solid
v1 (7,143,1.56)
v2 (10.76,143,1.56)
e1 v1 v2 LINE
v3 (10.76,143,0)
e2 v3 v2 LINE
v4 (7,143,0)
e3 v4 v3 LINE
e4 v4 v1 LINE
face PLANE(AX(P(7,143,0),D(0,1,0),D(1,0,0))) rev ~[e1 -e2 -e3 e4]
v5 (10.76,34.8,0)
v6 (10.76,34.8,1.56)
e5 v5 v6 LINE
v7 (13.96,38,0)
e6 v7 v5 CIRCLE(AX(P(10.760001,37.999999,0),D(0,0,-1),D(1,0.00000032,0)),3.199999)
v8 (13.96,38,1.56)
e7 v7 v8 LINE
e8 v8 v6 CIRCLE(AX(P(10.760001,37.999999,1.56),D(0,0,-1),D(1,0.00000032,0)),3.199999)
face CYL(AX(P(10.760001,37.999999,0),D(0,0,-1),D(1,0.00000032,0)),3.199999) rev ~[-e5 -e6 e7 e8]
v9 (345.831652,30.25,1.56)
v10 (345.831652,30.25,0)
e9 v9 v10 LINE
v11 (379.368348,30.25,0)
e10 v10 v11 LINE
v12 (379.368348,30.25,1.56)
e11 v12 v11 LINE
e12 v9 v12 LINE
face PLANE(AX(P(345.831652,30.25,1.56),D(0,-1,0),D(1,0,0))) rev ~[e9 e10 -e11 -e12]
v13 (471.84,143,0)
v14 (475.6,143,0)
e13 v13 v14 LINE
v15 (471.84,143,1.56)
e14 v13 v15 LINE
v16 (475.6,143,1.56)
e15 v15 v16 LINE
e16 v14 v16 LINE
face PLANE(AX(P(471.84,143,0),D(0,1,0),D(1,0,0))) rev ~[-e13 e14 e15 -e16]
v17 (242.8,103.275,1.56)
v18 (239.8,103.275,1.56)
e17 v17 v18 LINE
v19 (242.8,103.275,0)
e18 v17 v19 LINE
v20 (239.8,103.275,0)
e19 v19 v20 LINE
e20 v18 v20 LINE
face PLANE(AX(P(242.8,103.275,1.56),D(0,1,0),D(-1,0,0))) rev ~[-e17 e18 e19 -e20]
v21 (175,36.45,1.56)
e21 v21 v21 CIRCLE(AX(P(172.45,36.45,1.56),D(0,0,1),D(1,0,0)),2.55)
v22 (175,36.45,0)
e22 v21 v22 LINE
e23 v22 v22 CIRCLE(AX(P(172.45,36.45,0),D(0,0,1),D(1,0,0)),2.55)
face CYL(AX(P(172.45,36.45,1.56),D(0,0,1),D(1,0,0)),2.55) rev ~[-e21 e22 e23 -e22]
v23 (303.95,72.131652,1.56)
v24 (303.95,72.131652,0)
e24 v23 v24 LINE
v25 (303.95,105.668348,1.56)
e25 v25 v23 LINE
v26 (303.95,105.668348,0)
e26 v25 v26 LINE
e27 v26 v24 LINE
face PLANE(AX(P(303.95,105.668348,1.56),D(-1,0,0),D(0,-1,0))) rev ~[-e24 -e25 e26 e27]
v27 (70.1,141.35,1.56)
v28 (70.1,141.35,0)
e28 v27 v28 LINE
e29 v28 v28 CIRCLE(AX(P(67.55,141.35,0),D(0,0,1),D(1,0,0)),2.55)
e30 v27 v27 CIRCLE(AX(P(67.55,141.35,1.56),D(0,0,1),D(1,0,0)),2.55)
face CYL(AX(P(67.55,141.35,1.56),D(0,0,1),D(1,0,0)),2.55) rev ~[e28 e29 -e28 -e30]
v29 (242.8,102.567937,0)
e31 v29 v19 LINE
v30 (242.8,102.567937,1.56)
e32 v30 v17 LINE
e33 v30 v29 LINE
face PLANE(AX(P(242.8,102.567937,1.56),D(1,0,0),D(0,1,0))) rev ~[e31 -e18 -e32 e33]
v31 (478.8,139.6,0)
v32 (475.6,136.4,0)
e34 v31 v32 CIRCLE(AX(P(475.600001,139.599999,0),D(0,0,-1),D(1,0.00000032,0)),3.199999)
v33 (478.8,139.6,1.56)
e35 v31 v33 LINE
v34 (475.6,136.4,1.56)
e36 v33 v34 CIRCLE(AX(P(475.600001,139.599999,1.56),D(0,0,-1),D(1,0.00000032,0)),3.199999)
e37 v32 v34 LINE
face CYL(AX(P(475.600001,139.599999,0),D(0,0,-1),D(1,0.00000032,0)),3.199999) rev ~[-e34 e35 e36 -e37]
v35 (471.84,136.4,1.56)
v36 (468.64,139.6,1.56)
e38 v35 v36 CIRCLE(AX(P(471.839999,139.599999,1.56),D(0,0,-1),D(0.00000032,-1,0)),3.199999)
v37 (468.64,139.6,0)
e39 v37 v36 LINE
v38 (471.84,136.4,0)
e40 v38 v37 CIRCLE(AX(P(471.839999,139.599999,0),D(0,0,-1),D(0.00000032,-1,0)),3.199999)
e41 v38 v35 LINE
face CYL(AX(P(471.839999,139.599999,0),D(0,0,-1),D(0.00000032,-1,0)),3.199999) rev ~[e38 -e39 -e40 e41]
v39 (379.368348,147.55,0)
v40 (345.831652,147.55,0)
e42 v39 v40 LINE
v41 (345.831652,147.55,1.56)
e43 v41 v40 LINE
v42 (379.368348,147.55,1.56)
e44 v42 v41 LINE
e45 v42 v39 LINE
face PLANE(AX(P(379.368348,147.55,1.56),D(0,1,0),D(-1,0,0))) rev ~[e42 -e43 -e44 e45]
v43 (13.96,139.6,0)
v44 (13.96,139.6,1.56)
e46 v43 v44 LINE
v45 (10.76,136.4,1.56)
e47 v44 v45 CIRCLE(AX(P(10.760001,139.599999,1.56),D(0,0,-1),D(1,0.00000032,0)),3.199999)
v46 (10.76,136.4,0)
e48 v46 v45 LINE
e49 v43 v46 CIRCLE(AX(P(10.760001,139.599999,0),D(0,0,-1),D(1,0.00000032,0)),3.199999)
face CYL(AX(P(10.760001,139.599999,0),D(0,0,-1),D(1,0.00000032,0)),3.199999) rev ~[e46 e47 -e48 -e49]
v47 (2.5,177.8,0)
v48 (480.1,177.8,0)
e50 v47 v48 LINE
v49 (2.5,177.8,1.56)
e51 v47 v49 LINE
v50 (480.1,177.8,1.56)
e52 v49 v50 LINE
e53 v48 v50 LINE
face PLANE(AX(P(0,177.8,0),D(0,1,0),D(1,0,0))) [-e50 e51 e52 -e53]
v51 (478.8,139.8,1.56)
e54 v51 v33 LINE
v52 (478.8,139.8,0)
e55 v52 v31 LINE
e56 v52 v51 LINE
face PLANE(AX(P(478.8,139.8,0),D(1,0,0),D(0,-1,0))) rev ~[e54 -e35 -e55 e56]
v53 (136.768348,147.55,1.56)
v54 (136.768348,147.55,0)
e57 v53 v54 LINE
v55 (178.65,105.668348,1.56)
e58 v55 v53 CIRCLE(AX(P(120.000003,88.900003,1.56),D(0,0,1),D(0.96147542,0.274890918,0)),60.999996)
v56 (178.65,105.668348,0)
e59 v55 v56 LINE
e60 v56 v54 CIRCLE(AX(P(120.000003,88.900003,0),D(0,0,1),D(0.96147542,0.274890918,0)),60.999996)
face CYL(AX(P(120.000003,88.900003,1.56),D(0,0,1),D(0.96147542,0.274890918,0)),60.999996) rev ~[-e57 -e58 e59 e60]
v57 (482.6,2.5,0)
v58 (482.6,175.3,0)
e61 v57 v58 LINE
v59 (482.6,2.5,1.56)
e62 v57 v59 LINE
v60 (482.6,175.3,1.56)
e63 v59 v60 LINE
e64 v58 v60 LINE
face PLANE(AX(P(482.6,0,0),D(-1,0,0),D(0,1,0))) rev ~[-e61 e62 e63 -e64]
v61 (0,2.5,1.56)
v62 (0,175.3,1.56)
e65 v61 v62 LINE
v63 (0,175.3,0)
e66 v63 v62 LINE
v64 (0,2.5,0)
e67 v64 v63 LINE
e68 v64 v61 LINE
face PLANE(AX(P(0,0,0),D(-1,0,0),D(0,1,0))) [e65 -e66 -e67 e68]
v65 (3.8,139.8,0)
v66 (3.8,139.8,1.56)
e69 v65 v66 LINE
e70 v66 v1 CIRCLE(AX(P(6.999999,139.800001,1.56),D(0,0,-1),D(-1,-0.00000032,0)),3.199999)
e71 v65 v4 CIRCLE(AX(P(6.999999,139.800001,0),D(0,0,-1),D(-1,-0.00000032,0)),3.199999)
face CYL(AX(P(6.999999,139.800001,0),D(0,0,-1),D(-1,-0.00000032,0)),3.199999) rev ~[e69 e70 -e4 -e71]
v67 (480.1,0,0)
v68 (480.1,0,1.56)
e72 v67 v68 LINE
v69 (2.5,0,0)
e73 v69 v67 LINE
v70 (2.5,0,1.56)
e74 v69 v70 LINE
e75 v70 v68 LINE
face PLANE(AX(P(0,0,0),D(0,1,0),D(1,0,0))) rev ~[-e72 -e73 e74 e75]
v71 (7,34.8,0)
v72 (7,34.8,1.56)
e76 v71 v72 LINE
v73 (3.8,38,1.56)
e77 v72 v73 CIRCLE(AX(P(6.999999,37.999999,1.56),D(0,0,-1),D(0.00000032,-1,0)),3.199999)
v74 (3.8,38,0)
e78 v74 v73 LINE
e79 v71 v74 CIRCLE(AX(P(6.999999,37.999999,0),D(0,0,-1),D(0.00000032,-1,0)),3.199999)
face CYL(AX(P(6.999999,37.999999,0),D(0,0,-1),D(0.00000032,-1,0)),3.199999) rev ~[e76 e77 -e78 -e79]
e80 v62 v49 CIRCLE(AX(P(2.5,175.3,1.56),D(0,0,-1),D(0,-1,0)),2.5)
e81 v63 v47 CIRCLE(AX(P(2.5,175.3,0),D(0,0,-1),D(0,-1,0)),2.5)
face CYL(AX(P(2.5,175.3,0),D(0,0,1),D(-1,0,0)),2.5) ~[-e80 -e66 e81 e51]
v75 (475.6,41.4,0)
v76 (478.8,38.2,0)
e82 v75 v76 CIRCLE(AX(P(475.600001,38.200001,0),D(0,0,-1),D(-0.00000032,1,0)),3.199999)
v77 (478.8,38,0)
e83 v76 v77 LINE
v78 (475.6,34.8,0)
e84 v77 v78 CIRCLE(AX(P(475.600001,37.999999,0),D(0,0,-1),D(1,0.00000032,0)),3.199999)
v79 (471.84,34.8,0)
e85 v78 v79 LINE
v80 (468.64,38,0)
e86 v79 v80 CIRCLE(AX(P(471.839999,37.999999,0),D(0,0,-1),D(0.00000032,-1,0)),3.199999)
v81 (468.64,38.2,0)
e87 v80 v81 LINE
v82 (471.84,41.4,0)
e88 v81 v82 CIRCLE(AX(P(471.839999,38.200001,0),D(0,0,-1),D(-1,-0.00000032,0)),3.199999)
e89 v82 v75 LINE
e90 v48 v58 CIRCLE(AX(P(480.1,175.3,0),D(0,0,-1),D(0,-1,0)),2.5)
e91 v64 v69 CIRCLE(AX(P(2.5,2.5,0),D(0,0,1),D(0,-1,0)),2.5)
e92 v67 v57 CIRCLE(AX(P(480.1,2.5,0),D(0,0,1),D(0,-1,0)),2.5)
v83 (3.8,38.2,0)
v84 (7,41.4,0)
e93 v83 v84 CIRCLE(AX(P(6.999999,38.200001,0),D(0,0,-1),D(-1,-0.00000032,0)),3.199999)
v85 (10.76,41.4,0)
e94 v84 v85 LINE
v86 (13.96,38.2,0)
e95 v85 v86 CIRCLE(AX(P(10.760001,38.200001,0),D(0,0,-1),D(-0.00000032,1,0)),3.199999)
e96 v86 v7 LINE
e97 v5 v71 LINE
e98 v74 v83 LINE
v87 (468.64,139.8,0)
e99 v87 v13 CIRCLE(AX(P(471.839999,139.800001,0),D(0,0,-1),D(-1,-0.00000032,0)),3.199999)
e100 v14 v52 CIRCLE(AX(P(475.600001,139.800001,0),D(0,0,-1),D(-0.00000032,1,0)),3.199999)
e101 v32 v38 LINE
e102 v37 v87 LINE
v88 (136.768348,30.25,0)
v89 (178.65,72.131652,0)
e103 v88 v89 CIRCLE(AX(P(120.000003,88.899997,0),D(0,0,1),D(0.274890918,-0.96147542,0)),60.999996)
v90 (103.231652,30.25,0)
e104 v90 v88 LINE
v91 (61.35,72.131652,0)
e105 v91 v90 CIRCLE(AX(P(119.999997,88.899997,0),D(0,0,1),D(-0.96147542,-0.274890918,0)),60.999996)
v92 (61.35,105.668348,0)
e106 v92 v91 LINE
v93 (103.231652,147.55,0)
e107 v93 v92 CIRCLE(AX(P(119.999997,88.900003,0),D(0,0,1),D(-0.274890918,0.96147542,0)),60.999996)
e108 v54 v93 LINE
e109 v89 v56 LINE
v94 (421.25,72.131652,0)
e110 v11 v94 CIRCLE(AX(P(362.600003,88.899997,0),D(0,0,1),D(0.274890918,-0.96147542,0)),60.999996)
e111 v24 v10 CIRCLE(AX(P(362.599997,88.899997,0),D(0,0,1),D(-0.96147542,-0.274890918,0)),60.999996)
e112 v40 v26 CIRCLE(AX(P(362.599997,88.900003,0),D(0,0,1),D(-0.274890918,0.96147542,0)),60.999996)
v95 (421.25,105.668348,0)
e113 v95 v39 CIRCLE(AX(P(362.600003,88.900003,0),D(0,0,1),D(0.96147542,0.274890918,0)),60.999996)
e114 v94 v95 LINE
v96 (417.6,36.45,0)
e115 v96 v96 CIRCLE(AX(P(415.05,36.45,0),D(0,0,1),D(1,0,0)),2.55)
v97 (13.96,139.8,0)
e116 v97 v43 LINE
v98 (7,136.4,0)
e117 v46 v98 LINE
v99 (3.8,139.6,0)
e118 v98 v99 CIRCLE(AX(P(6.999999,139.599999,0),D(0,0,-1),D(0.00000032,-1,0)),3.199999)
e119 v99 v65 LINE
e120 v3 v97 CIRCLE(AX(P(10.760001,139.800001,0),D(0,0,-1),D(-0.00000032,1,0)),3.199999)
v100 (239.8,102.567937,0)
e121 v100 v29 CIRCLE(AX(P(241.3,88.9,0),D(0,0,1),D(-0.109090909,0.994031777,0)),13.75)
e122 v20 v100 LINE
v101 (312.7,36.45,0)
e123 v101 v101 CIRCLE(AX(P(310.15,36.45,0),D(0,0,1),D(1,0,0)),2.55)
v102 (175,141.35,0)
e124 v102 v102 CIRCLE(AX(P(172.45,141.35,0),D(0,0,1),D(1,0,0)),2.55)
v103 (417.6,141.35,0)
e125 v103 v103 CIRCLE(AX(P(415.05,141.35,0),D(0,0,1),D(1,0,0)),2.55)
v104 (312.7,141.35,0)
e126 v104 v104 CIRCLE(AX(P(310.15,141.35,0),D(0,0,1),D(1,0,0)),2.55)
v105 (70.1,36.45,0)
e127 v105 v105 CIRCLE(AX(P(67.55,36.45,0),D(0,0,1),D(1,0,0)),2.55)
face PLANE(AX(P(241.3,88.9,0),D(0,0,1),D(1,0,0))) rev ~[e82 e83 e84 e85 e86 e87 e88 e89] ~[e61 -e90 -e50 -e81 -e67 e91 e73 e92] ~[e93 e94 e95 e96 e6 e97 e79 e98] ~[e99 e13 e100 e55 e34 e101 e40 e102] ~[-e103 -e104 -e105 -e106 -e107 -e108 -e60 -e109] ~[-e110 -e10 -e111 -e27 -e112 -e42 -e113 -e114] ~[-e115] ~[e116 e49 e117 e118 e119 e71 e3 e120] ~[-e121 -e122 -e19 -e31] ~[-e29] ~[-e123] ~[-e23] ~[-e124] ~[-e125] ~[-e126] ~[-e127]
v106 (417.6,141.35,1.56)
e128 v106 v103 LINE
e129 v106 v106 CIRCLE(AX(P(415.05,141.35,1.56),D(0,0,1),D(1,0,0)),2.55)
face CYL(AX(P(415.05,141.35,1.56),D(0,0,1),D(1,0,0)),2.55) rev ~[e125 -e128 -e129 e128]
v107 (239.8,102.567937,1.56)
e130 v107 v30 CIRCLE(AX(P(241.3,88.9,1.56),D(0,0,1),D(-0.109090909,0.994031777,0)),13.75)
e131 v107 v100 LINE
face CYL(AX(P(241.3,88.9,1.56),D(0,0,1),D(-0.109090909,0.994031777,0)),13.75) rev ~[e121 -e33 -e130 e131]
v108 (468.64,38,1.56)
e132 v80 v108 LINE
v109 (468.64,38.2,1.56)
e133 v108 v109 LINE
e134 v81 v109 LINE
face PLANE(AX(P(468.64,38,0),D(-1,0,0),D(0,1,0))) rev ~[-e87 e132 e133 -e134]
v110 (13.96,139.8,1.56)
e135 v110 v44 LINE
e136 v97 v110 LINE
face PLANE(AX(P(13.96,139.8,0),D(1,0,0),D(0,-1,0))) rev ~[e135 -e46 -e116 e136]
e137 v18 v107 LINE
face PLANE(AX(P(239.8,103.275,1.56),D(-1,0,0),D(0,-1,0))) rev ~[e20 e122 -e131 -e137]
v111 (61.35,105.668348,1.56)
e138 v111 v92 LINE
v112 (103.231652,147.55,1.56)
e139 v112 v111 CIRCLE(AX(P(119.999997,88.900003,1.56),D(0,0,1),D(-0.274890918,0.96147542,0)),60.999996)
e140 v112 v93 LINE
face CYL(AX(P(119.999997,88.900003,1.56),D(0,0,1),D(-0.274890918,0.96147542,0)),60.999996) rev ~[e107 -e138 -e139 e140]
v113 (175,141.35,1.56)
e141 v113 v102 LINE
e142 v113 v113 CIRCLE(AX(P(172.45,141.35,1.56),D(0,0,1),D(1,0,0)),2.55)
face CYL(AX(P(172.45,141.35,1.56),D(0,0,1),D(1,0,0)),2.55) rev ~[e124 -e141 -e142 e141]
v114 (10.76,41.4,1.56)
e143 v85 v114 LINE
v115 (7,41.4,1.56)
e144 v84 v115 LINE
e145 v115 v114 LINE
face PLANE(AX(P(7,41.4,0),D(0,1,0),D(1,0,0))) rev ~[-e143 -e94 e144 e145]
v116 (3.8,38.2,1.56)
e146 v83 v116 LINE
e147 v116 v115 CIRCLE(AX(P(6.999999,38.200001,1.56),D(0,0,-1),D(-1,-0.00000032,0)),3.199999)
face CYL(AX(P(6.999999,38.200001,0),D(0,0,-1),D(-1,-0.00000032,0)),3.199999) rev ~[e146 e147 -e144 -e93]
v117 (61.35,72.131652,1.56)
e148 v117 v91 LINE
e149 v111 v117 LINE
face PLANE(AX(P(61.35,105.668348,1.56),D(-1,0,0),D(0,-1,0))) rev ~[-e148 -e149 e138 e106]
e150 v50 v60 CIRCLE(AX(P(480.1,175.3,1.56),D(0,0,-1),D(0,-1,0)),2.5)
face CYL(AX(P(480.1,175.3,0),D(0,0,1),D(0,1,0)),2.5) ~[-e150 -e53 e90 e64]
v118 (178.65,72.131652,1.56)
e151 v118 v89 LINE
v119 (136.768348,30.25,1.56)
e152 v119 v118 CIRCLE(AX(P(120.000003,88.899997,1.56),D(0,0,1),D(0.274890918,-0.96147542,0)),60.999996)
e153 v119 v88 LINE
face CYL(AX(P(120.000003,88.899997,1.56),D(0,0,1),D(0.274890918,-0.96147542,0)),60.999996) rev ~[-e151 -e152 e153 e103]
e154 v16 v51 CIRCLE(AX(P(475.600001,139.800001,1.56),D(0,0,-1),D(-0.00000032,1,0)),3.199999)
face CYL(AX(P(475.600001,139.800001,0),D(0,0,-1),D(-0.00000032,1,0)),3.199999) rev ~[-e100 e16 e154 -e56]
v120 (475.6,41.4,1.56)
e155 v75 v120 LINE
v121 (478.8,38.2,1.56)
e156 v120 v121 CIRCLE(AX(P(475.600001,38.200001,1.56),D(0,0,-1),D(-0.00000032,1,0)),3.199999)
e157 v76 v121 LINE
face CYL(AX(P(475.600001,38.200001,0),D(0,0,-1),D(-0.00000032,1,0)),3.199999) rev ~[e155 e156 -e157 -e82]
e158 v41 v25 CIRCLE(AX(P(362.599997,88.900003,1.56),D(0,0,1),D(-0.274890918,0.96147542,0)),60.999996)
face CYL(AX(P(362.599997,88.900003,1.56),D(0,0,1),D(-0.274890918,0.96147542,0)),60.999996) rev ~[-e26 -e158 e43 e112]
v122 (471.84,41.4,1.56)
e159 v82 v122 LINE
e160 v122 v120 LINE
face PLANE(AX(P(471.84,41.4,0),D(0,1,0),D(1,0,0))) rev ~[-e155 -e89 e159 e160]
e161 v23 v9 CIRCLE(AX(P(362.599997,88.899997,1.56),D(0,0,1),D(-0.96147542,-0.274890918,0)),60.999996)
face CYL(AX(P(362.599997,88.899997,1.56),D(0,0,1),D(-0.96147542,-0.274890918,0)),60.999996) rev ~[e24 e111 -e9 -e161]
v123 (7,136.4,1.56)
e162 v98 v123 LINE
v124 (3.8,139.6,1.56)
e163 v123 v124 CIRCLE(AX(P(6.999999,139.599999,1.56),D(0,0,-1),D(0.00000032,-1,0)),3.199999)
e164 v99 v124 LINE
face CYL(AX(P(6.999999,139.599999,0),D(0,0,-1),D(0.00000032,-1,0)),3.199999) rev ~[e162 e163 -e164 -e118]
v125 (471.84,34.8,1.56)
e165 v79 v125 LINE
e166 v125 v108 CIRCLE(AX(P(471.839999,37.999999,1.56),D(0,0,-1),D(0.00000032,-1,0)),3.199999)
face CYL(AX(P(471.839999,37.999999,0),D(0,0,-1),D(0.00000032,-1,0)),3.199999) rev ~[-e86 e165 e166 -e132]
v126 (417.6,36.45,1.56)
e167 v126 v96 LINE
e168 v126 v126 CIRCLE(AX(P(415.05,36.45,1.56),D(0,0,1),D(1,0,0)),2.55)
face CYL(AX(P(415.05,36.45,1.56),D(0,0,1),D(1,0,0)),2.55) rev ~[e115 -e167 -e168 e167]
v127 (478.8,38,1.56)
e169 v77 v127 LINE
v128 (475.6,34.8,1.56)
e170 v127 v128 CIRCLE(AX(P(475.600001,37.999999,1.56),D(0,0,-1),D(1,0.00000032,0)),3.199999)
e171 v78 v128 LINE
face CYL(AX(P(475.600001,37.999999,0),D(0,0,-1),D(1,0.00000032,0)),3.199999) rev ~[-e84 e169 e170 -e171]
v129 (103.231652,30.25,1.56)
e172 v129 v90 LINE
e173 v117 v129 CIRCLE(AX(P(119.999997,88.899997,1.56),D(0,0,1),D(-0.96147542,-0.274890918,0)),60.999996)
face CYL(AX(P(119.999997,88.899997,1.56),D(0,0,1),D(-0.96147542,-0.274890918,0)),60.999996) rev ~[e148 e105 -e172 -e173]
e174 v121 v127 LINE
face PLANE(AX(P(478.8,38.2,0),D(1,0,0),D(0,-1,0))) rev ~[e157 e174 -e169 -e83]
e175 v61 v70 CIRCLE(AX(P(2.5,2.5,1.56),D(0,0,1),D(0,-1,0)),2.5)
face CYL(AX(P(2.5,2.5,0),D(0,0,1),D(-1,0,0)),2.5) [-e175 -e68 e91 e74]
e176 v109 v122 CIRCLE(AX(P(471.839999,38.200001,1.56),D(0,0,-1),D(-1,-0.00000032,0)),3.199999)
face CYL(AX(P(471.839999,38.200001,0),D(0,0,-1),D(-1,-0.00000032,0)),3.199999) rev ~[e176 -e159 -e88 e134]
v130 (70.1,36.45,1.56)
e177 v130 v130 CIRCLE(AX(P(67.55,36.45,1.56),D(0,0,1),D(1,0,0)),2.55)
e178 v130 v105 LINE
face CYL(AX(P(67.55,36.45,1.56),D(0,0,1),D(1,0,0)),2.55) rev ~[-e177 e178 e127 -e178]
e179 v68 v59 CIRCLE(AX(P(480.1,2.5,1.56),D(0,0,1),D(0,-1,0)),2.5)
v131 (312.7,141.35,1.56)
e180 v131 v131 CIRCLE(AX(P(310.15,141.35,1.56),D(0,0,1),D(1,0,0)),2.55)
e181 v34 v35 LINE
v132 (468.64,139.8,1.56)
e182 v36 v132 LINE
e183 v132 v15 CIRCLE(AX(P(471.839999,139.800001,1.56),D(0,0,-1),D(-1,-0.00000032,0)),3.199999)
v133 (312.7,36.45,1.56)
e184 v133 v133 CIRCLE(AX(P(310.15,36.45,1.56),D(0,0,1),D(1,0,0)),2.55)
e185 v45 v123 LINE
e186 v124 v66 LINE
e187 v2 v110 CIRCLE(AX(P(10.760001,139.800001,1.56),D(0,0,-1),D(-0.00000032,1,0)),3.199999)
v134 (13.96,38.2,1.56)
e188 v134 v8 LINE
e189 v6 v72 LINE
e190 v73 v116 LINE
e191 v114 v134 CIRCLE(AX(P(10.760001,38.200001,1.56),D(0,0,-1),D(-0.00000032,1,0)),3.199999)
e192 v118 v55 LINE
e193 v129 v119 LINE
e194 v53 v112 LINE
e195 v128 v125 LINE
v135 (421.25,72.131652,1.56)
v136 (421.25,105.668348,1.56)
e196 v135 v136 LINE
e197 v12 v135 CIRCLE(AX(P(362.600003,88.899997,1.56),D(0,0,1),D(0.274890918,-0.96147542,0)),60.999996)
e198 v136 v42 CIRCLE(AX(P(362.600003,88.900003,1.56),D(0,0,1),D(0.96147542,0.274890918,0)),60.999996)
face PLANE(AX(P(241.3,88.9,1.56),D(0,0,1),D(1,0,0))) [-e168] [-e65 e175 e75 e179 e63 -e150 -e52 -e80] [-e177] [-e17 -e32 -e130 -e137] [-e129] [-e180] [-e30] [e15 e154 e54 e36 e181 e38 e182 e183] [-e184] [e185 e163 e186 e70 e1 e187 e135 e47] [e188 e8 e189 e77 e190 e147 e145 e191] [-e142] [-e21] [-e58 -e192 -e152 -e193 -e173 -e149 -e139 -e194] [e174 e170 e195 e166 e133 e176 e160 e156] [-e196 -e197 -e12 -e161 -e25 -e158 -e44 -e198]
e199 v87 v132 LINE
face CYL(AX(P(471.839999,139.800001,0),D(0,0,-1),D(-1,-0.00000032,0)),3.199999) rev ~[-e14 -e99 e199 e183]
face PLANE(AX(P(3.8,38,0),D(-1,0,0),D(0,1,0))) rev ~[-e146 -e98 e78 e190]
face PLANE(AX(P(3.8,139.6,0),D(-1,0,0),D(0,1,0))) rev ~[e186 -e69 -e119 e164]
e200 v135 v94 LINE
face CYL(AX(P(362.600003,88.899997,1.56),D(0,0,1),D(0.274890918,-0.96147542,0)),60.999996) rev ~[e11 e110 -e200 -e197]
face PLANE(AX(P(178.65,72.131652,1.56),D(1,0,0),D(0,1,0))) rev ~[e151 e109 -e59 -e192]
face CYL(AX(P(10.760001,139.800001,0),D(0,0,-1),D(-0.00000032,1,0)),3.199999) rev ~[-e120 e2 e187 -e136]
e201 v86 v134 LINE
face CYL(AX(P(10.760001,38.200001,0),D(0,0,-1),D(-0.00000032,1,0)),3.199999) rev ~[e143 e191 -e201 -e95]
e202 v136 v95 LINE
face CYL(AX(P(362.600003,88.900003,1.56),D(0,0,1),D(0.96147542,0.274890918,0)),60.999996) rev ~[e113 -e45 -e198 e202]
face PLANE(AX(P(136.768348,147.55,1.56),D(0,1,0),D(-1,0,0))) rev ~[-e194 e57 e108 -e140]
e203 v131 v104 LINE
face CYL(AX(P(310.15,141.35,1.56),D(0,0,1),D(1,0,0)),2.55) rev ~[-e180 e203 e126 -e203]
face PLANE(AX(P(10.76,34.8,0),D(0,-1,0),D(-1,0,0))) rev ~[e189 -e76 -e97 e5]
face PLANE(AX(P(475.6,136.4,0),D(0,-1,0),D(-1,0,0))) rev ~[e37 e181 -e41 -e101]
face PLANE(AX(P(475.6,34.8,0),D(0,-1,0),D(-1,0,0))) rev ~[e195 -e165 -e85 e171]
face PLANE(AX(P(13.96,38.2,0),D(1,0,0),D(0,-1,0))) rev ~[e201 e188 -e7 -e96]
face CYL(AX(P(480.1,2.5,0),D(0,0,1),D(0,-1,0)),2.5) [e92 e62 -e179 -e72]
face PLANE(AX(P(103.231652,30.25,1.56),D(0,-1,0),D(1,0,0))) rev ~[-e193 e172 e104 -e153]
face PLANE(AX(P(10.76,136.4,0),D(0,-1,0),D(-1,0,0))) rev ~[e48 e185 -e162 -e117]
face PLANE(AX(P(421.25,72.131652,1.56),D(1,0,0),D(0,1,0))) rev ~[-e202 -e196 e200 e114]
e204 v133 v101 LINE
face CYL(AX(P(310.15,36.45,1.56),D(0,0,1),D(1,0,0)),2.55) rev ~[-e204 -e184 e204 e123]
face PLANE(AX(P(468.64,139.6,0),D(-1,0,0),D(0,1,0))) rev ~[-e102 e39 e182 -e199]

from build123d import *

# Parameters (mm, degrees)
F0_W     = 482.6
F0_H     = 177.8
F1_DEPTH = 1.56
F2_R     = 2.5
F3_R     = 2.55
F4_DEPTH = 25


with BuildPart() as f1:
    # F0 (on Top) → F1 (new body)
    with BuildSketch(Plane.XY):
        with Locations((241.3, 88.9)):
            Rectangle(F0_W, F0_H)
        with BuildLine():
            Line((7, 41.4), (10.76, 41.4))
            ThreePointArc((10.76, 41.4), (13.022742, 40.462742), (13.96, 38.2))
            Line((13.96, 38.2), (13.96, 38))
            ThreePointArc((13.96, 38), (13.022742, 35.737258), (10.76, 34.8))
            Line((10.76, 34.8), (7, 34.8))
            ThreePointArc((7, 34.8), (4.737258, 35.737258), (3.8, 38))
            Line((3.8, 38), (3.8, 38.2))
            ThreePointArc((3.8, 38.2), (4.737258, 40.462742), (7, 41.4))
        make_face(mode=Mode.SUBTRACT)
        with BuildLine():
            Line((468.64, 38), (468.64, 38.2))
            ThreePointArc((468.64, 38.2), (469.577258, 40.462742), (471.84, 41.4))
            Line((471.84, 41.4), (475.6, 41.4))
            ThreePointArc((475.6, 41.4), (477.862742, 40.462742), (478.8, 38.2))
            Line((478.8, 38.2), (478.8, 38))
            ThreePointArc((478.8, 38), (477.862742, 35.737258), (475.6, 34.8))
            Line((475.6, 34.8), (471.84, 34.8))
            ThreePointArc((471.84, 34.8), (469.577258, 35.737258), (468.64, 38))
        make_face(mode=Mode.SUBTRACT)
        with BuildLine():
            Line((10.76, 136.4), (7, 136.4))
            ThreePointArc((7, 136.4), (4.737258, 137.337258), (3.8, 139.6))
            Line((3.8, 139.6), (3.8, 139.8))
            ThreePointArc((3.8, 139.8), (4.737258, 142.062742), (7, 143))
            Line((7, 143), (10.76, 143))
            ThreePointArc((10.76, 143), (13.022742, 142.062742), (13.96, 139.8))
            Line((13.96, 139.8), (13.96, 139.6))
            ThreePointArc((13.96, 139.6), (13.022742, 137.337258), (10.76, 136.4))
        make_face(mode=Mode.SUBTRACT)
        with BuildLine():
            Line((478.8, 139.8), (478.8, 139.6))
            ThreePointArc((478.8, 139.6), (477.862742, 137.337258), (475.6, 136.4))
            Line((475.6, 136.4), (471.84, 136.4))
            ThreePointArc((471.84, 136.4), (469.577258, 137.337258), (468.64, 139.6))
            Line((468.64, 139.6), (468.64, 139.8))
            ThreePointArc((468.64, 139.8), (469.577258, 142.062742), (471.84, 143))
            Line((471.84, 143), (475.6, 143))
            ThreePointArc((475.6, 143), (477.862742, 142.062742), (478.8, 139.8))
        make_face(mode=Mode.SUBTRACT)
    extrude(amount=F1_DEPTH)

    # F2
    f2_edges = [f1.edges().sort_by_distance(p)[0] for p in [
        (0, 177.8, 0.78),
        (0, 0, 0.78),
        (482.6, 177.8, 0.78),
        (482.6, 0, 0.78),
    ]]
    fillet(f2_edges, radius=F2_R)

    # F3 (on face) → F4 (cut)
    with BuildSketch(Plane.XY.offset(1.56)):
        with BuildLine():
            Line((136.768348, 147.55), (103.231652, 147.55))
            ThreePointArc((103.231652, 147.55), (76.866486, 132.033514), (61.35, 105.668348))
            Line((61.35, 105.668348), (61.35, 72.131652))
            ThreePointArc((61.35, 72.131652), (76.866486, 45.766486), (103.231652, 30.25))
            Line((103.231652, 30.25), (136.768348, 30.25))
            ThreePointArc((136.768348, 30.25), (163.133514, 45.766486), (178.65, 72.131652))
            Line((178.65, 72.131652), (178.65, 105.668348))
            ThreePointArc((178.65, 105.668348), (163.133514, 132.033514), (136.768348, 147.55))
        make_face()
        with Locations((67.55, 141.35)):
            Circle(F3_R)
        with Locations((67.55, 36.45)):
            Circle(F3_R)
        with Locations((172.45, 141.35)):
            Circle(F3_R)
        with Locations((172.45, 36.45)):
            Circle(F3_R)
        with BuildLine():
            Line((379.368348, 147.55), (345.831652, 147.55))
            ThreePointArc((345.831652, 147.55), (319.466486, 132.033514), (303.95, 105.668348))
            Line((303.95, 105.668348), (303.95, 72.131652))
            ThreePointArc((303.95, 72.131652), (319.466486, 45.766486), (345.831652, 30.25))
            Line((345.831652, 30.25), (379.368348, 30.25))
            ThreePointArc((379.368348, 30.25), (405.733514, 45.766486), (421.25, 72.131652))
            Line((421.25, 72.131652), (421.25, 105.668348))
            ThreePointArc((421.25, 105.668348), (405.733514, 132.033514), (379.368348, 147.55))
        make_face()
        with Locations((415.05, 36.45)):
            Circle(F3_R)
        with Locations((310.15, 36.45)):
            Circle(F3_R)
        with Locations((415.05, 141.35)):
            Circle(F3_R)
        with Locations((310.15, 141.35)):
            Circle(F3_R)
        with BuildLine():
            Line((239.8, 103.275), (239.8, 102.567937))
            ThreePointArc((239.8, 102.567937), (241.3, 75.15), (242.8, 102.567937))
            Line((242.8, 102.567937), (242.8, 103.275))
            Line((242.8, 103.275), (241.3, 103.275))
            Line((241.3, 103.275), (239.8, 103.275))
        make_face()
    extrude(amount=-F4_DEPTH, mode=Mode.SUBTRACT)


solid = f1.part
